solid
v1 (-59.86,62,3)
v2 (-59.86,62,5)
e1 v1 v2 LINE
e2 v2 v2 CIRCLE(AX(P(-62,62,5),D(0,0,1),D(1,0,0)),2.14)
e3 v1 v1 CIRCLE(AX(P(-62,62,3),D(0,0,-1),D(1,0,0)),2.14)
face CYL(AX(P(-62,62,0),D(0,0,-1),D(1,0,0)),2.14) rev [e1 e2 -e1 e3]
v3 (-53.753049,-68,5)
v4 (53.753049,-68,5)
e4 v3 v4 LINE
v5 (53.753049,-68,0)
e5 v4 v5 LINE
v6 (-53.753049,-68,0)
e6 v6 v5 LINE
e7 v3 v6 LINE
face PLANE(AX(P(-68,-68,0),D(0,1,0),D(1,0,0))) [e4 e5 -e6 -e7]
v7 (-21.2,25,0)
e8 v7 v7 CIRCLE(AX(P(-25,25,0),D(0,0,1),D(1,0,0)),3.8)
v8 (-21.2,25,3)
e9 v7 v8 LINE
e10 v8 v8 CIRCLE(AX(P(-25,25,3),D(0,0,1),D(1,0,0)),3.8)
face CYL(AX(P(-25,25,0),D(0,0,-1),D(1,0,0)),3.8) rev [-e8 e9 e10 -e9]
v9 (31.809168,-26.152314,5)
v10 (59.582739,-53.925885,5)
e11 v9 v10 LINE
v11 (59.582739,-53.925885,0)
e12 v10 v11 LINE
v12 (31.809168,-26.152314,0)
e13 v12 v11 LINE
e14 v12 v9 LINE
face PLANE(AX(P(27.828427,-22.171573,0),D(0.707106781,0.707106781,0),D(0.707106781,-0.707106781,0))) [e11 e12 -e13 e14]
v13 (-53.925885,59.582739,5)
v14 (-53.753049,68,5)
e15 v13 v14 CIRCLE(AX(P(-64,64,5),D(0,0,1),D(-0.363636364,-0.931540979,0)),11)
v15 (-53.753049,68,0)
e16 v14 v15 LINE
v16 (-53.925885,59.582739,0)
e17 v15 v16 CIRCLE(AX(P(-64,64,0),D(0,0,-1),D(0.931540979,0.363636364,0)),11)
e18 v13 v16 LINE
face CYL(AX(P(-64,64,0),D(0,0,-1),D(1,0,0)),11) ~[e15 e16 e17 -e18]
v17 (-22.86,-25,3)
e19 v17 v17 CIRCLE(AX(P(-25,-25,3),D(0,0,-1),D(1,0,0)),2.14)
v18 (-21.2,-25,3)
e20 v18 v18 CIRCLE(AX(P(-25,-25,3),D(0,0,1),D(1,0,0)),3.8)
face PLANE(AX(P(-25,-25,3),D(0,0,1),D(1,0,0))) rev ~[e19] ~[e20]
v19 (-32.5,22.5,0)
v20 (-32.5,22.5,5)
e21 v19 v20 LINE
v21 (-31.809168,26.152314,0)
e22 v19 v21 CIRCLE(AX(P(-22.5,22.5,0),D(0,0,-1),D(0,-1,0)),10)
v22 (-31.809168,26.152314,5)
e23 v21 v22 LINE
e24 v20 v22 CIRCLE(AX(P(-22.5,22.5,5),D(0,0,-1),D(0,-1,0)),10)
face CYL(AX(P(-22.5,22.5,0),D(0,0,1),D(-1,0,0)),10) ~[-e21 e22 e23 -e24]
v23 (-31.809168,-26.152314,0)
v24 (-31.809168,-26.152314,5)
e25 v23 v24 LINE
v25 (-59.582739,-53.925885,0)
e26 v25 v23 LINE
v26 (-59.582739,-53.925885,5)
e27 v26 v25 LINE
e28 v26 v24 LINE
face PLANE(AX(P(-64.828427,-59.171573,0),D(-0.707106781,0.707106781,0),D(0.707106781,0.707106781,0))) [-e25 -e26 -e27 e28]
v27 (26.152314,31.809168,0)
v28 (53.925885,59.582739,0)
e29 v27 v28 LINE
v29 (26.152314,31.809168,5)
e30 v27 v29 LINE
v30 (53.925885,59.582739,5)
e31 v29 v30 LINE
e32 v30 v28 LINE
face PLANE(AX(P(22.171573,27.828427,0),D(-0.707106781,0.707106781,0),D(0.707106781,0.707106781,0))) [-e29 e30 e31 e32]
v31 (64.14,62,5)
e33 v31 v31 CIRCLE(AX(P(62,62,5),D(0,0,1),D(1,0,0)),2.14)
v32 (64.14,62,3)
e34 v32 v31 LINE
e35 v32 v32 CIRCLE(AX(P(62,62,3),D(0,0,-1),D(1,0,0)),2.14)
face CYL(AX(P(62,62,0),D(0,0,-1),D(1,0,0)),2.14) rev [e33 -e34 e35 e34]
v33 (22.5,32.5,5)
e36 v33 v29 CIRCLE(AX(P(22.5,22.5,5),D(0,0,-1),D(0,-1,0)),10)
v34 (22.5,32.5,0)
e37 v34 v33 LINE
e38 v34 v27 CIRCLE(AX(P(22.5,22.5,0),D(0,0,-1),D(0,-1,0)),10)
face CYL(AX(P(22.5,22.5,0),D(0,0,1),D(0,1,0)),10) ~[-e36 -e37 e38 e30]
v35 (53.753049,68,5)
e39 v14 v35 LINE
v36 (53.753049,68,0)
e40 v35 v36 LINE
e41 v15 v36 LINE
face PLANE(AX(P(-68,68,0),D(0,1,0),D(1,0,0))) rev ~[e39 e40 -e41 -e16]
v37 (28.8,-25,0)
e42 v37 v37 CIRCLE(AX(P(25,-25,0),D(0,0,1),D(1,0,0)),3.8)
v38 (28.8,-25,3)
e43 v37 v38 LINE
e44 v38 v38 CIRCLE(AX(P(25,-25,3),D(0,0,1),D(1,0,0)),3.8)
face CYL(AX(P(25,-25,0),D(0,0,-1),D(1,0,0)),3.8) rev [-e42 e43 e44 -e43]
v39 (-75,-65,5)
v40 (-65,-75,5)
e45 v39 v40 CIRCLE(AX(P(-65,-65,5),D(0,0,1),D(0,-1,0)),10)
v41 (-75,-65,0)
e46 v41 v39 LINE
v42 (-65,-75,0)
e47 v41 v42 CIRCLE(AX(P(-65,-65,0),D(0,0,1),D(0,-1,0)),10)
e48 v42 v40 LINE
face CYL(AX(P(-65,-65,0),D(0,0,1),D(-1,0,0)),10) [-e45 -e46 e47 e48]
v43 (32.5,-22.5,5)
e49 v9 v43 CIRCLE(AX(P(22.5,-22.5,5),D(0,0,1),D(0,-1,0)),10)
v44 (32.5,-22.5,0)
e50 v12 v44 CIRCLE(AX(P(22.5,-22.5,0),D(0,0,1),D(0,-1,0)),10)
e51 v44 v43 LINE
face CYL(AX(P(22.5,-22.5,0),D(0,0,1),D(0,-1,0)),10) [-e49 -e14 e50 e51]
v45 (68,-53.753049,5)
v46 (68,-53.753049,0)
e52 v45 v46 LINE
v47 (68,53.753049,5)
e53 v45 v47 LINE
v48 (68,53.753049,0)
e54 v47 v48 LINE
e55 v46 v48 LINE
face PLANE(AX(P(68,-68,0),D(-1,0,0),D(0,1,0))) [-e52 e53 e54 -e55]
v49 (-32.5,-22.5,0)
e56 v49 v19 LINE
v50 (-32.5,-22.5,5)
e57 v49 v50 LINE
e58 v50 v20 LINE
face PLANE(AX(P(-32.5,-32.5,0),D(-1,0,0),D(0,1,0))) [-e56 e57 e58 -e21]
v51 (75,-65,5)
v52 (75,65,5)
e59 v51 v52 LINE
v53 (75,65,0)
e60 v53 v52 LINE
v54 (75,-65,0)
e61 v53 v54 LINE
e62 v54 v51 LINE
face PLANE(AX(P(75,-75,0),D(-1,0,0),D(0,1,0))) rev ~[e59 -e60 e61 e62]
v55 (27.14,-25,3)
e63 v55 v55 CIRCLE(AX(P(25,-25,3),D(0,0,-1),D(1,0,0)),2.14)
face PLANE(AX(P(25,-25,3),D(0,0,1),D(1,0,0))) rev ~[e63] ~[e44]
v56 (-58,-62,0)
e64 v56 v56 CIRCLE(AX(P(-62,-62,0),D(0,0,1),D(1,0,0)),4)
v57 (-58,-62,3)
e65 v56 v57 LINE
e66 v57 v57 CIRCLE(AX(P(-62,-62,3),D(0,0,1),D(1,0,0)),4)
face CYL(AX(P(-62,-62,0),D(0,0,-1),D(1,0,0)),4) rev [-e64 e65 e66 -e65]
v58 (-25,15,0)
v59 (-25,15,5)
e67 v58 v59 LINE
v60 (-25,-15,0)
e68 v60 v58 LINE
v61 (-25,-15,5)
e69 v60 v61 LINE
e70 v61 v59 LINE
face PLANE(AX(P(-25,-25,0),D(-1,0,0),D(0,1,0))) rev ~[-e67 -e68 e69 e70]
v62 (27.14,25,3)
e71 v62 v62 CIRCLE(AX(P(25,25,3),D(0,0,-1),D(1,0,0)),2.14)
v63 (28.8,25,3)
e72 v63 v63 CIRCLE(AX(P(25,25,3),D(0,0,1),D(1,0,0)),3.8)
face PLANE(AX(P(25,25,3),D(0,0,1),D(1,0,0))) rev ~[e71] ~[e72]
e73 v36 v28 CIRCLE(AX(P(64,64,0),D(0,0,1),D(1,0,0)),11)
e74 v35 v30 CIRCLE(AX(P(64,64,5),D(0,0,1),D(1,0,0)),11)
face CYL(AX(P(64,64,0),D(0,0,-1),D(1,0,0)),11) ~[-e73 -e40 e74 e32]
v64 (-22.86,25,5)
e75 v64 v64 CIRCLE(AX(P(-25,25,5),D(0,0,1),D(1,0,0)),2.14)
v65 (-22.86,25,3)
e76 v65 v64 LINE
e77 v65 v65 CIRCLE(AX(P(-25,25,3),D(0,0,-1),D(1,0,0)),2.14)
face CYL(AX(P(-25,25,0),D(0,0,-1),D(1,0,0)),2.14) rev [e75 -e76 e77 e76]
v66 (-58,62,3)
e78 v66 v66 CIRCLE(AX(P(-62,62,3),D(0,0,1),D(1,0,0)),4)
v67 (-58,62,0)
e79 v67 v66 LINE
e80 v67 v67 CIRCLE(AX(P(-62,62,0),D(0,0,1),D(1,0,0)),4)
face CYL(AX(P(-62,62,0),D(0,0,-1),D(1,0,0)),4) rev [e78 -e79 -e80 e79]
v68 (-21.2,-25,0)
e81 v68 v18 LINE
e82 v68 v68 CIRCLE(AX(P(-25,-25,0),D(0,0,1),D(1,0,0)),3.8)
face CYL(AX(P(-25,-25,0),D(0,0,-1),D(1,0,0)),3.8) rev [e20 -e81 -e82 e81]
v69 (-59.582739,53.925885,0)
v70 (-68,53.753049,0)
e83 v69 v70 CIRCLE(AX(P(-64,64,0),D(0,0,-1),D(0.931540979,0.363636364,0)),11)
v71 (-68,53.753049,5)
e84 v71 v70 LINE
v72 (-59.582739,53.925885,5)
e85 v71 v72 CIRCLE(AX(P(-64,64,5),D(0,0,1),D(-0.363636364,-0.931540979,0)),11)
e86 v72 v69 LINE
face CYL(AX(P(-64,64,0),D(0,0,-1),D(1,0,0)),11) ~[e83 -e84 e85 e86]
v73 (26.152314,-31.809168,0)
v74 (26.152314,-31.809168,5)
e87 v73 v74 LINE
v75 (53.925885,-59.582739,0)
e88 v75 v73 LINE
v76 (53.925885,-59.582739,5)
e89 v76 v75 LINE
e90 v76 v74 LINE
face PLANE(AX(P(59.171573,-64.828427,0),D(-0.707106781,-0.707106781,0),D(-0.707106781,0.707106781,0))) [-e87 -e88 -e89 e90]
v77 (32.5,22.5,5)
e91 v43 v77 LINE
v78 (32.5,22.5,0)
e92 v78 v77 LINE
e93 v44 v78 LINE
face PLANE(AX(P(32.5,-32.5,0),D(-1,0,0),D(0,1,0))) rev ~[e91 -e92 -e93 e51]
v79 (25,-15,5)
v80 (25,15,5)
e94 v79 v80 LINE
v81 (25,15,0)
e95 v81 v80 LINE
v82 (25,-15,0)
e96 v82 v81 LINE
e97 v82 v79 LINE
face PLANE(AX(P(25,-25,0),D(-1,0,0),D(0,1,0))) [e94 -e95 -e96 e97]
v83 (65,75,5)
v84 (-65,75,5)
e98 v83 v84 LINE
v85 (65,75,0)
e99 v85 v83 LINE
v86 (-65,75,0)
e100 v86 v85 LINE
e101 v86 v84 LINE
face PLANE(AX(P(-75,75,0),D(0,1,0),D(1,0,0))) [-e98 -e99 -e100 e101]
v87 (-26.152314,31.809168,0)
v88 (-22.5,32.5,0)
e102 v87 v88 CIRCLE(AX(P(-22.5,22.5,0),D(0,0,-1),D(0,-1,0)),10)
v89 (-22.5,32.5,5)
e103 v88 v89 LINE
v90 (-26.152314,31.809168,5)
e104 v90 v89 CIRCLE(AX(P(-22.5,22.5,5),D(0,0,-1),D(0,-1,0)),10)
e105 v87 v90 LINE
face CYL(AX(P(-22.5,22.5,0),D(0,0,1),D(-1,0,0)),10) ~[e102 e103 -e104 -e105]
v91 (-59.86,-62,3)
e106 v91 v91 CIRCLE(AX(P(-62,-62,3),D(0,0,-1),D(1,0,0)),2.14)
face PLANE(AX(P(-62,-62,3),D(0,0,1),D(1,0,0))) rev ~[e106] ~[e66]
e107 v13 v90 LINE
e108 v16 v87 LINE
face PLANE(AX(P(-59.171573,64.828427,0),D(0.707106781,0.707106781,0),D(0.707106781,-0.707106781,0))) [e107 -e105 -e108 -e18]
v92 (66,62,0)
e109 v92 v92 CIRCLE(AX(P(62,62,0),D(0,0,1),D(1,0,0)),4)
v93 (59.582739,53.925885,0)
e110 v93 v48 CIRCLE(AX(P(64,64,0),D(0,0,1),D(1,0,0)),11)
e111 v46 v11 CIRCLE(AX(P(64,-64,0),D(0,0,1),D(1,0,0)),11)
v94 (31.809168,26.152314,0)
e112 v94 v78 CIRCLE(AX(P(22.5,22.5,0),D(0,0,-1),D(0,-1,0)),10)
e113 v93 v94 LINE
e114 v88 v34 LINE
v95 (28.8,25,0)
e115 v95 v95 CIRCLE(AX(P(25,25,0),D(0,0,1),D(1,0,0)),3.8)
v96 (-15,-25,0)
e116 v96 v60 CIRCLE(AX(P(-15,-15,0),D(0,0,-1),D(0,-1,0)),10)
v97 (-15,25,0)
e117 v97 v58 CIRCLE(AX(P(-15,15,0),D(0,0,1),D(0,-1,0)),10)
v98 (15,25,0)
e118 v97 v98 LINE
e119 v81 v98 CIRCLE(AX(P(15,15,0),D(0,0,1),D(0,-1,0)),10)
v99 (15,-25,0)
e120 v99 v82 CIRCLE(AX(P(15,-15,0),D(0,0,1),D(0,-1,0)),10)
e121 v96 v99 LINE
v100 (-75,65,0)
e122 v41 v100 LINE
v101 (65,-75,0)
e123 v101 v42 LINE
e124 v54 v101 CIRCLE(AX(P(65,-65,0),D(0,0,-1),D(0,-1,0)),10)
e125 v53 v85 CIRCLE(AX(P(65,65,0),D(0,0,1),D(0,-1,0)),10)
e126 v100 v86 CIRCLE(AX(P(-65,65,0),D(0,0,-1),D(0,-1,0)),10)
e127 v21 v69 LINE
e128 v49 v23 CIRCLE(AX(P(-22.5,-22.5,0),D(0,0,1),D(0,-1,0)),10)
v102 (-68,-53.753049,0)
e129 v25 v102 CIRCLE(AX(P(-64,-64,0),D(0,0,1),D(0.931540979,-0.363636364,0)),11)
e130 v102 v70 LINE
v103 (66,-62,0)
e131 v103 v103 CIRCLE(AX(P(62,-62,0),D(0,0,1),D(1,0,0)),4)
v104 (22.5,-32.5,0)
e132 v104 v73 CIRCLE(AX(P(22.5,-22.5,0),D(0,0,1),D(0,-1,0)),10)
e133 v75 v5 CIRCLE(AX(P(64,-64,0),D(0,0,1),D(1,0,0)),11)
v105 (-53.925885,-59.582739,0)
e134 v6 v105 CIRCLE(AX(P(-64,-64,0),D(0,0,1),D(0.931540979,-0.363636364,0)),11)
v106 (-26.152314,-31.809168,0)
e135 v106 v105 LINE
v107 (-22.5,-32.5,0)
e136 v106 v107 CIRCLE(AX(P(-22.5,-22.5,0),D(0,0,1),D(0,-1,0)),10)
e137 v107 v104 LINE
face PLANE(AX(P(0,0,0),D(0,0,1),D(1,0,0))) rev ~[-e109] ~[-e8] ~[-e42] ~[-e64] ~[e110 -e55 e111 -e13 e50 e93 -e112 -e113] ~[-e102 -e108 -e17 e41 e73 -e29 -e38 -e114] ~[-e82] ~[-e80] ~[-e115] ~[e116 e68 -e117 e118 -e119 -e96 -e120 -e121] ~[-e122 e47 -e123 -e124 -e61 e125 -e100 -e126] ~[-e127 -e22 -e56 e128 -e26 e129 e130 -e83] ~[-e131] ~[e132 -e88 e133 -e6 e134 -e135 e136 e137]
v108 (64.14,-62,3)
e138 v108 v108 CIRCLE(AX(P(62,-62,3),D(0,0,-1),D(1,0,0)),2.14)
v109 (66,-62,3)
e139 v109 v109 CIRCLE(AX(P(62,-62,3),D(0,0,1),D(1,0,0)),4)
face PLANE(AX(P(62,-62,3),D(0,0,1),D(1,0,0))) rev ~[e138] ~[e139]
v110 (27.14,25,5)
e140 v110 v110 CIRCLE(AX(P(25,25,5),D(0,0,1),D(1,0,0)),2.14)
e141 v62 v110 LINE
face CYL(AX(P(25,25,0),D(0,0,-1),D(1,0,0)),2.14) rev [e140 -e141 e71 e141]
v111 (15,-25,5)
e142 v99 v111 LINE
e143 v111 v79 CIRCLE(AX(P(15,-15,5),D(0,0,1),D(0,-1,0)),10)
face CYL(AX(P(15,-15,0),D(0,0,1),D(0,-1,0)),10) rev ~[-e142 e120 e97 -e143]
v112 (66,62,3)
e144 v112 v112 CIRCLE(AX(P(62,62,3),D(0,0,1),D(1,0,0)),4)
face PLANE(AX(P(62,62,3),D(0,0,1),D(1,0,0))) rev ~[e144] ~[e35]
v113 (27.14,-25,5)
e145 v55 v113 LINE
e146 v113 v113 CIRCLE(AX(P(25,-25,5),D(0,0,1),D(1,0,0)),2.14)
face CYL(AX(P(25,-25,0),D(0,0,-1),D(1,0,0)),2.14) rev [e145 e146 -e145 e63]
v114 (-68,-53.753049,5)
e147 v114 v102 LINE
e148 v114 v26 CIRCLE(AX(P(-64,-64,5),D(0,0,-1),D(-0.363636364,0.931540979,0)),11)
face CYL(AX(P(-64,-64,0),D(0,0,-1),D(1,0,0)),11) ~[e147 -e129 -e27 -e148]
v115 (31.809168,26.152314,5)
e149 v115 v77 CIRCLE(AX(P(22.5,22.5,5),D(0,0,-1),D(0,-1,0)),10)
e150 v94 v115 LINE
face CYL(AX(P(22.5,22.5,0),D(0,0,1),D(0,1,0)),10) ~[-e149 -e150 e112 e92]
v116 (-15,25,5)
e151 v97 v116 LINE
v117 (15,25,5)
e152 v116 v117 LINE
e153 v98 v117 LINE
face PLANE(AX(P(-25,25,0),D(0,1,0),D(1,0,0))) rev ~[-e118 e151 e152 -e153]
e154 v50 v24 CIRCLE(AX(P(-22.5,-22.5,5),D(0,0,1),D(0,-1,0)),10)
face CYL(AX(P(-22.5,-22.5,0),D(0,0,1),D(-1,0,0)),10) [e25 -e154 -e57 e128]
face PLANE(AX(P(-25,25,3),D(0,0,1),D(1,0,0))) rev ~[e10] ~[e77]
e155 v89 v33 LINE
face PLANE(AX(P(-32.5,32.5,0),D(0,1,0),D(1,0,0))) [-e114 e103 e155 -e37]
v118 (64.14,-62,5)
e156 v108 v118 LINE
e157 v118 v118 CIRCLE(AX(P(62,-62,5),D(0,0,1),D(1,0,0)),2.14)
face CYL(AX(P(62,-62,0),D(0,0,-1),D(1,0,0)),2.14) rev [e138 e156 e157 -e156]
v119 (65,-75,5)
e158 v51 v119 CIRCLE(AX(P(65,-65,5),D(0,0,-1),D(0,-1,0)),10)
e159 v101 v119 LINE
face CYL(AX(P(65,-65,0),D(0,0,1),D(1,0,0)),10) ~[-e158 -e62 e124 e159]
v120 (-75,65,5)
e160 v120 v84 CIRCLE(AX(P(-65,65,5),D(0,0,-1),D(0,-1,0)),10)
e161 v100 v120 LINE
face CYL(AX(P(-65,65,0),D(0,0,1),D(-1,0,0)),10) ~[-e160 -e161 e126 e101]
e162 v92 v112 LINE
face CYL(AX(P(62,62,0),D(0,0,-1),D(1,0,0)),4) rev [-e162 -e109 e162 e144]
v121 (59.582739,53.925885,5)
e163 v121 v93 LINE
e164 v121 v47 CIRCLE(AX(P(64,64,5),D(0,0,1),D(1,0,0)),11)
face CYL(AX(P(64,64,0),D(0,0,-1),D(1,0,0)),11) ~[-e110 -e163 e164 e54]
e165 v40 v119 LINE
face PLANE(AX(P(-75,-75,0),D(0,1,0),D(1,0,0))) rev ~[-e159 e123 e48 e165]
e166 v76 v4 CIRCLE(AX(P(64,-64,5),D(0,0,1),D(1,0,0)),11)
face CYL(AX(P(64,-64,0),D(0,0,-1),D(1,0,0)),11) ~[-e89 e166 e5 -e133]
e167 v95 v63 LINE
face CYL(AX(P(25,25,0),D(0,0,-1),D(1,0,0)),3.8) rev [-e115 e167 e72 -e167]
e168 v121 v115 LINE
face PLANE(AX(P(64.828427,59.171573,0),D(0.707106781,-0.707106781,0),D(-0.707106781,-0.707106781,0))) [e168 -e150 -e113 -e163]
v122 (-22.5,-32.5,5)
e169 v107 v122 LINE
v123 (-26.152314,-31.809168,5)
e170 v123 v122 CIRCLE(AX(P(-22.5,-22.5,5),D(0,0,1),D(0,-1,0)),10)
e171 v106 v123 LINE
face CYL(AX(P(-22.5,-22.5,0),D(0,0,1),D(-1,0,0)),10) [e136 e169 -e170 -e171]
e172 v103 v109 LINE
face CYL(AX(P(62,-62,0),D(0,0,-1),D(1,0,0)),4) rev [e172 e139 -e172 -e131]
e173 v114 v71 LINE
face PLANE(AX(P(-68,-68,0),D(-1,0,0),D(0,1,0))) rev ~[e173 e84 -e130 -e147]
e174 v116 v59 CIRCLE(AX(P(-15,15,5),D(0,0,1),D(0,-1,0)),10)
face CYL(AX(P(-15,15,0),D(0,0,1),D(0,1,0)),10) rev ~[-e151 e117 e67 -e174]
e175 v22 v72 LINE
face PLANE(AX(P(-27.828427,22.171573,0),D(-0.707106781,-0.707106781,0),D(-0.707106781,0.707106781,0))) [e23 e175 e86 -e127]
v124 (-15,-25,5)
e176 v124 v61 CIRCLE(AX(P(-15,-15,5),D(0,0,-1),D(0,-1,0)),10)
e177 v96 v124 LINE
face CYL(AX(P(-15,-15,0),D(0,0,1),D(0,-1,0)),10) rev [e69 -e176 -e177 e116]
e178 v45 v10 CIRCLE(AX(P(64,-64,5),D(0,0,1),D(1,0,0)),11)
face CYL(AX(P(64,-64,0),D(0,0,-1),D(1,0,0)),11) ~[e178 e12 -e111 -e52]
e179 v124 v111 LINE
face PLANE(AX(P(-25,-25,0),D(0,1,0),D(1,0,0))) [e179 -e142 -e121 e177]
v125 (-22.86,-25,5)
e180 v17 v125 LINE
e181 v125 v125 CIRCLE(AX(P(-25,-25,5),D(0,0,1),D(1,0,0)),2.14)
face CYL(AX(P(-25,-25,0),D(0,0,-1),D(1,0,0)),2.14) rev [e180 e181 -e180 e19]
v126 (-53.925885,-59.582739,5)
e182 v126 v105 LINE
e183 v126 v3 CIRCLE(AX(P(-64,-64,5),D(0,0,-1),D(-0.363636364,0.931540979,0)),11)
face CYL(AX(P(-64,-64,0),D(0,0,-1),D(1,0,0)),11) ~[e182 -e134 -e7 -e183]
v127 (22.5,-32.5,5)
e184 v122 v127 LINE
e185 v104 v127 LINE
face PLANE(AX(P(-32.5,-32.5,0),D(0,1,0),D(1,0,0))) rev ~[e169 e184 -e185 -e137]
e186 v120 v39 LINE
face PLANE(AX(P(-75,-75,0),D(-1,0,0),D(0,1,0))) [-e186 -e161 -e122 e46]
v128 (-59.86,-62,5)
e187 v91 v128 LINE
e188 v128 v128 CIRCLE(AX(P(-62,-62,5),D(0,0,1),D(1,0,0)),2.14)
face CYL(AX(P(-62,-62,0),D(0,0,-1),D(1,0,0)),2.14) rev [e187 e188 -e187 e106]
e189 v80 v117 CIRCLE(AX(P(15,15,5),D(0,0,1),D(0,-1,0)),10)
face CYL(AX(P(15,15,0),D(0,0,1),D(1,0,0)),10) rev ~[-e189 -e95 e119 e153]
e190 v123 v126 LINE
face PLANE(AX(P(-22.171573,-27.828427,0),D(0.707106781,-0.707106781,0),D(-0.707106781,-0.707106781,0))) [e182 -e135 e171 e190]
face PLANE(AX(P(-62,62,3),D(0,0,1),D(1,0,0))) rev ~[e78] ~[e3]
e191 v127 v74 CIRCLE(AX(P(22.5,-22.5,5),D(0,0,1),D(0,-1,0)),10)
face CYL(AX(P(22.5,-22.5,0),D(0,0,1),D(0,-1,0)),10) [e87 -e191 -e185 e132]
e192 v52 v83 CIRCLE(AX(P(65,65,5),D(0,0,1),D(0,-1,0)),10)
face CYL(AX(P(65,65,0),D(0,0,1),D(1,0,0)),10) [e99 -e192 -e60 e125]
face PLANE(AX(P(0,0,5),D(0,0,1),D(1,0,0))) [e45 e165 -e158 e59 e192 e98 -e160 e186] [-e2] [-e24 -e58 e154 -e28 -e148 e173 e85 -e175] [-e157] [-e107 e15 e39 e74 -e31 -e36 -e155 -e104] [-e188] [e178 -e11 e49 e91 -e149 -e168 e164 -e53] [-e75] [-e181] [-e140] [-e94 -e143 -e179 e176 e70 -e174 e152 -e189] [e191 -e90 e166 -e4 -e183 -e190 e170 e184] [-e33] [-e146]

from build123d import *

# Parameters (mm, degrees)
SKETCH1_R             = 11
BOSS_EXTRUDE1_DEPTH   = 5
BOSS_EXTRUDE1_2_DEPTH = 5
BOSS_EXTRUDE1_3_DEPTH = 5
BOSS_EXTRUDE1_4_DEPTH = 5
SKETCH3_W             = 150
SKETCH3_H             = 150
SKETCH3_W_2           = 136
SKETCH3_H_2           = 136
BOSS_EXTRUDE3_DEPTH   = 5
SKETCH8_R             = 2.14
BOSS_EXTRUDE4_DEPTH   = 5
BOSS_EXTRUDE4_2_DEPTH = 5
BOSS_EXTRUDE4_3_DEPTH = 5
BOSS_EXTRUDE4_4_DEPTH = 5
FILLET1_R             = 10
SKETCH9_R             = 4
BOSS_EXTRUDE5_DEPTH   = 3
BOSS_EXTRUDE5_2_DEPTH = 3
BOSS_EXTRUDE5_3_DEPTH = 3
BOSS_EXTRUDE5_4_DEPTH = 3
SKETCH10_W            = 65
SKETCH10_H            = 65
SKETCH10_W_2          = 50
SKETCH10_H_2          = 50
BOSS_EXTRUDE6_DEPTH   = 5
FILLET2_R             = 10
SKETCH11_R            = 2.14
BOSS_EXTRUDE7_DEPTH   = 5
BOSS_EXTRUDE7_2_DEPTH = 5
BOSS_EXTRUDE7_3_DEPTH = 5
BOSS_EXTRUDE7_4_DEPTH = 5
SKETCH12_R            = 3.8
BOSS_EXTRUDE8_DEPTH   = 3
BOSS_EXTRUDE8_2_DEPTH = 3
BOSS_EXTRUDE8_3_DEPTH = 3
BOSS_EXTRUDE8_4_DEPTH = 3
BOSS_EXTRUDE9_DEPTH   = 5
BOSS_EXTRUDE9_2_DEPTH = 5
BOSS_EXTRUDE9_3_DEPTH = 5
BOSS_EXTRUDE9_4_DEPTH = 5


with BuildPart() as part:
    # Sketch1 → Boss-Extrude1 (new body)
    with BuildSketch(Plane.XY):
        with Locations((-64, -64)):
            Circle(SKETCH1_R)
    extrude(amount=BOSS_EXTRUDE1_DEPTH)


with BuildPart() as body_2:
    # Sketch1 → Boss-Extrude1 2 (new body)
    with BuildSketch(Plane.XY):
        with Locations((-64, 64)):
            Circle(SKETCH1_R)
    extrude(amount=BOSS_EXTRUDE1_2_DEPTH)



with BuildPart() as body_3:
    # Sketch1 → Boss-Extrude1 3 (new body)
    with BuildSketch(Plane.XY):
        with Locations((64, -64)):
            Circle(SKETCH1_R)
    extrude(amount=BOSS_EXTRUDE1_3_DEPTH)


with BuildPart() as body_4:
    # Sketch1 → Boss-Extrude1 4 (new body)
    with BuildSketch(Plane.XY):
        with Locations((64, 64)):
            Circle(SKETCH1_R)
    extrude(amount=BOSS_EXTRUDE1_4_DEPTH)


with BuildPart() as body_2_1:
    add(body_2.part)

    add(body_3.part)  # Boss-Extrude3 merges body 3

    add(body_4.part)  # Boss-Extrude3 merges body 4
    # Sketch3 → Boss-Extrude3 (add)
    with BuildSketch(Plane.XY):
        Rectangle(SKETCH3_W, SKETCH3_H)
        Rectangle(SKETCH3_W_2, SKETCH3_H_2, mode=Mode.SUBTRACT)
    extrude(amount=BOSS_EXTRUDE3_DEPTH)

    # Fillet1
    fillet1_edges = [body_2_1.edges().sort_by_distance(p)[0] for p in [
        (75, -75, 2.5),
        (75, 75, 2.5),
        (-75, 75, 2.5),
        (-75, -75, 2.5),
    ]]
    fillet(fillet1_edges, radius=FILLET1_R)

    # Combine1: union part
    add(part.part)


with BuildPart() as body_3_2:
    # Sketch8 → Boss-Extrude4 (new body)
    with BuildSketch(Plane.XY):
        with Locations((-62, 62)):
            Circle(SKETCH8_R)
    extrude(amount=BOSS_EXTRUDE4_DEPTH)


with BuildPart() as body_4_2:
    # Sketch8 → Boss-Extrude4 2 (new body)
    with BuildSketch(Plane.XY):
        with Locations((-62, -62)):
            Circle(SKETCH8_R)
    extrude(amount=BOSS_EXTRUDE4_2_DEPTH)


with BuildPart() as body_5:
    # Sketch8 → Boss-Extrude4 3 (new body)
    with BuildSketch(Plane.XY):
        with Locations((62, 62)):
            Circle(SKETCH8_R)
    extrude(amount=BOSS_EXTRUDE4_3_DEPTH)


with BuildPart() as body_6:
    # Sketch8 → Boss-Extrude4 4 (new body)
    with BuildSketch(Plane.XY):
        with Locations((62, -62)):
            Circle(SKETCH8_R)
    extrude(amount=BOSS_EXTRUDE4_4_DEPTH)


with BuildPart() as body_6_2:
    # Sketch9 → Boss-Extrude5 (new body)
    with BuildSketch(Plane.XY):
        with Locations((-62, 62)):
            Circle(SKETCH9_R)
    extrude(amount=BOSS_EXTRUDE5_DEPTH)


with BuildPart() as body_7:
    # Sketch9 → Boss-Extrude5 2 (new body)
    with BuildSketch(Plane.XY):
        with Locations((-62, -62)):
            Circle(SKETCH9_R)
    extrude(amount=BOSS_EXTRUDE5_2_DEPTH)


with BuildPart() as body_8:
    # Sketch9 → Boss-Extrude5 3 (new body)
    with BuildSketch(Plane.XY):
        with Locations((62, 62)):
            Circle(SKETCH9_R)
    extrude(amount=BOSS_EXTRUDE5_3_DEPTH)


with BuildPart() as body_9:
    # Sketch9 → Boss-Extrude5 4 (new body)
    with BuildSketch(Plane.XY):
        with Locations((62, -62)):
            Circle(SKETCH9_R)
    extrude(amount=BOSS_EXTRUDE5_4_DEPTH)


with BuildPart() as body_10:
    # Sketch10 → Boss-Extrude6 (new body)
    with BuildSketch(Plane.XY):
        Rectangle(SKETCH10_W, SKETCH10_H)
        Rectangle(SKETCH10_W_2, SKETCH10_H_2, mode=Mode.SUBTRACT)
    extrude(amount=BOSS_EXTRUDE6_DEPTH)

    # Fillet2
    fillet2_edges = [body_10.edges().sort_by_distance(p)[0] for p in [
        (-25, -25, 2.5),
        (25, -25, 2.5),
        (-25, 25, 2.5),
        (25, 25, 2.5),
        (32.5, -32.5, 2.5),
        (-32.5, -32.5, 2.5),
        (-32.5, 32.5, 2.5),
        (32.5, 32.5, 2.5),
    ]]
    fillet(fillet2_edges, radius=FILLET2_R)


with BuildPart() as body_11:
    # Sketch11 → Boss-Extrude7 (new body)
    with BuildSketch(Plane.XY):
        with Locations((25, 25)):
            Circle(SKETCH11_R)
    extrude(amount=BOSS_EXTRUDE7_DEPTH)


with BuildPart() as body_12:
    # Sketch11 → Boss-Extrude7 2 (new body)
    with BuildSketch(Plane.XY):
        with Locations((-25, 25)):
            Circle(SKETCH11_R)
    extrude(amount=BOSS_EXTRUDE7_2_DEPTH)


with BuildPart() as body_13:
    # Sketch11 → Boss-Extrude7 3 (new body)
    with BuildSketch(Plane.XY):
        with Locations((-25, -25)):
            Circle(SKETCH11_R)
    extrude(amount=BOSS_EXTRUDE7_3_DEPTH)


with BuildPart() as body_14:
    # Sketch11 → Boss-Extrude7 4 (new body)
    with BuildSketch(Plane.XY):
        with Locations((25, -25)):
            Circle(SKETCH11_R)
    extrude(amount=BOSS_EXTRUDE7_4_DEPTH)


with BuildPart() as body_15:
    # Sketch12 → Boss-Extrude8 (new body)
    with BuildSketch(Plane.XY):
        with Locations((25, 25)):
            Circle(SKETCH12_R)
    extrude(amount=BOSS_EXTRUDE8_DEPTH)


with BuildPart() as body_16:
    # Sketch12 → Boss-Extrude8 2 (new body)
    with BuildSketch(Plane.XY):
        with Locations((-25, 25)):
            Circle(SKETCH12_R)
    extrude(amount=BOSS_EXTRUDE8_2_DEPTH)


with BuildPart() as body_17:
    # Sketch12 → Boss-Extrude8 3 (new body)
    with BuildSketch(Plane.XY):
        with Locations((-25, -25)):
            Circle(SKETCH12_R)
    extrude(amount=BOSS_EXTRUDE8_3_DEPTH)


with BuildPart() as body_18:
    # Sketch12 → Boss-Extrude8 4 (new body)
    with BuildSketch(Plane.XY):
        with Locations((25, -25)):
            Circle(SKETCH12_R)
    extrude(amount=BOSS_EXTRUDE8_4_DEPTH)


with BuildPart() as body_19:
    # Sketch14 → Boss-Extrude9 (new body)
    with BuildSketch(Plane.XY):
        with BuildLine():
            Line((-59.171572875, 64.828427125), (-22.171572875, 27.828427125))
            ThreePointArc((-22.171572875, 27.828427125), (-22.171572875, 22.171572875), (-27.828427125, 22.171572875))
            Line((-27.828427125, 22.171572875), (-64.828427125, 59.171572875))
            ThreePointArc((-64.828427125, 59.171572875), (-64.828427125, 64.828427125), (-59.171572875, 64.828427125))
        make_face()
    extrude(amount=BOSS_EXTRUDE9_DEPTH)


with BuildPart() as body_20:
    # Sketch14 → Boss-Extrude9 2 (new body)
    with BuildSketch(Plane.XY):
        with BuildLine():
            Line((64.828427125, 59.171572875), (27.828427125, 22.171572875))
            ThreePointArc((27.828427125, 22.171572875), (22.171572875, 22.171572875), (22.171572875, 27.828427125))
            Line((22.171572875, 27.828427125), (59.171572875, 64.828427125))
            ThreePointArc((59.171572875, 64.828427125), (64.828427125, 64.828427125), (64.828427125, 59.171572875))
        make_face()
    extrude(amount=BOSS_EXTRUDE9_2_DEPTH)


with BuildPart() as body_21:
    # Sketch14 → Boss-Extrude9 3 (new body)
    with BuildSketch(Plane.XY):
        with BuildLine():
            Line((27.828427125, -22.171572875), (64.828427125, -59.171572875))
            ThreePointArc((64.828427125, -59.171572875), (64.828427125, -64.828427125), (59.171572875, -64.828427125))
            Line((59.171572875, -64.828427125), (22.171572875, -27.828427125))
            ThreePointArc((22.171572875, -27.828427125), (22.171572875, -22.171572875), (27.828427125, -22.171572875))
        make_face()
    extrude(amount=BOSS_EXTRUDE9_3_DEPTH)


with BuildPart() as body_22:
    # Sketch14 → Boss-Extrude9 4 (new body)
    with BuildSketch(Plane.XY):
        with BuildLine():
            Line((-22.171572875, -27.828427125), (-59.171572875, -64.828427125))
            ThreePointArc((-59.171572875, -64.828427125), (-64.828427125, -64.828427125), (-64.828427125, -59.171572875))
            Line((-64.828427125, -59.171572875), (-27.828427125, -22.171572875))
            ThreePointArc((-27.828427125, -22.171572875), (-22.171572875, -22.171572875), (-22.171572875, -27.828427125))
        make_face()
    extrude(amount=BOSS_EXTRUDE9_4_DEPTH)

    # Combine4: union body 21, body 20, body 19, body 2, body 10
    add(body_21.part)
    add(body_20.part)
    add(body_19.part)
    add(body_2_1.part)
    add(body_10.part)

    # Combine5: cut body 15, body 18, body 17, body 16, body 11, body 14, body 13, body 12, body 9, body 6 2, body 8, body 7, body 6, body 3 2, body 5, body 4 2
    add(body_15.part, mode=Mode.SUBTRACT)
    add(body_18.part, mode=Mode.SUBTRACT)
    add(body_17.part, mode=Mode.SUBTRACT)
    add(body_16.part, mode=Mode.SUBTRACT)
    add(body_11.part, mode=Mode.SUBTRACT)
    add(body_14.part, mode=Mode.SUBTRACT)
    add(body_13.part, mode=Mode.SUBTRACT)
    add(body_12.part, mode=Mode.SUBTRACT)
    add(body_9.part, mode=Mode.SUBTRACT)
    add(body_6_2.part, mode=Mode.SUBTRACT)
    add(body_8.part, mode=Mode.SUBTRACT)
    add(body_7.part, mode=Mode.SUBTRACT)
    add(body_6.part, mode=Mode.SUBTRACT)
    add(body_3_2.part, mode=Mode.SUBTRACT)
    add(body_5.part, mode=Mode.SUBTRACT)
    add(body_4_2.part, mode=Mode.SUBTRACT)


solid = body_22.part
